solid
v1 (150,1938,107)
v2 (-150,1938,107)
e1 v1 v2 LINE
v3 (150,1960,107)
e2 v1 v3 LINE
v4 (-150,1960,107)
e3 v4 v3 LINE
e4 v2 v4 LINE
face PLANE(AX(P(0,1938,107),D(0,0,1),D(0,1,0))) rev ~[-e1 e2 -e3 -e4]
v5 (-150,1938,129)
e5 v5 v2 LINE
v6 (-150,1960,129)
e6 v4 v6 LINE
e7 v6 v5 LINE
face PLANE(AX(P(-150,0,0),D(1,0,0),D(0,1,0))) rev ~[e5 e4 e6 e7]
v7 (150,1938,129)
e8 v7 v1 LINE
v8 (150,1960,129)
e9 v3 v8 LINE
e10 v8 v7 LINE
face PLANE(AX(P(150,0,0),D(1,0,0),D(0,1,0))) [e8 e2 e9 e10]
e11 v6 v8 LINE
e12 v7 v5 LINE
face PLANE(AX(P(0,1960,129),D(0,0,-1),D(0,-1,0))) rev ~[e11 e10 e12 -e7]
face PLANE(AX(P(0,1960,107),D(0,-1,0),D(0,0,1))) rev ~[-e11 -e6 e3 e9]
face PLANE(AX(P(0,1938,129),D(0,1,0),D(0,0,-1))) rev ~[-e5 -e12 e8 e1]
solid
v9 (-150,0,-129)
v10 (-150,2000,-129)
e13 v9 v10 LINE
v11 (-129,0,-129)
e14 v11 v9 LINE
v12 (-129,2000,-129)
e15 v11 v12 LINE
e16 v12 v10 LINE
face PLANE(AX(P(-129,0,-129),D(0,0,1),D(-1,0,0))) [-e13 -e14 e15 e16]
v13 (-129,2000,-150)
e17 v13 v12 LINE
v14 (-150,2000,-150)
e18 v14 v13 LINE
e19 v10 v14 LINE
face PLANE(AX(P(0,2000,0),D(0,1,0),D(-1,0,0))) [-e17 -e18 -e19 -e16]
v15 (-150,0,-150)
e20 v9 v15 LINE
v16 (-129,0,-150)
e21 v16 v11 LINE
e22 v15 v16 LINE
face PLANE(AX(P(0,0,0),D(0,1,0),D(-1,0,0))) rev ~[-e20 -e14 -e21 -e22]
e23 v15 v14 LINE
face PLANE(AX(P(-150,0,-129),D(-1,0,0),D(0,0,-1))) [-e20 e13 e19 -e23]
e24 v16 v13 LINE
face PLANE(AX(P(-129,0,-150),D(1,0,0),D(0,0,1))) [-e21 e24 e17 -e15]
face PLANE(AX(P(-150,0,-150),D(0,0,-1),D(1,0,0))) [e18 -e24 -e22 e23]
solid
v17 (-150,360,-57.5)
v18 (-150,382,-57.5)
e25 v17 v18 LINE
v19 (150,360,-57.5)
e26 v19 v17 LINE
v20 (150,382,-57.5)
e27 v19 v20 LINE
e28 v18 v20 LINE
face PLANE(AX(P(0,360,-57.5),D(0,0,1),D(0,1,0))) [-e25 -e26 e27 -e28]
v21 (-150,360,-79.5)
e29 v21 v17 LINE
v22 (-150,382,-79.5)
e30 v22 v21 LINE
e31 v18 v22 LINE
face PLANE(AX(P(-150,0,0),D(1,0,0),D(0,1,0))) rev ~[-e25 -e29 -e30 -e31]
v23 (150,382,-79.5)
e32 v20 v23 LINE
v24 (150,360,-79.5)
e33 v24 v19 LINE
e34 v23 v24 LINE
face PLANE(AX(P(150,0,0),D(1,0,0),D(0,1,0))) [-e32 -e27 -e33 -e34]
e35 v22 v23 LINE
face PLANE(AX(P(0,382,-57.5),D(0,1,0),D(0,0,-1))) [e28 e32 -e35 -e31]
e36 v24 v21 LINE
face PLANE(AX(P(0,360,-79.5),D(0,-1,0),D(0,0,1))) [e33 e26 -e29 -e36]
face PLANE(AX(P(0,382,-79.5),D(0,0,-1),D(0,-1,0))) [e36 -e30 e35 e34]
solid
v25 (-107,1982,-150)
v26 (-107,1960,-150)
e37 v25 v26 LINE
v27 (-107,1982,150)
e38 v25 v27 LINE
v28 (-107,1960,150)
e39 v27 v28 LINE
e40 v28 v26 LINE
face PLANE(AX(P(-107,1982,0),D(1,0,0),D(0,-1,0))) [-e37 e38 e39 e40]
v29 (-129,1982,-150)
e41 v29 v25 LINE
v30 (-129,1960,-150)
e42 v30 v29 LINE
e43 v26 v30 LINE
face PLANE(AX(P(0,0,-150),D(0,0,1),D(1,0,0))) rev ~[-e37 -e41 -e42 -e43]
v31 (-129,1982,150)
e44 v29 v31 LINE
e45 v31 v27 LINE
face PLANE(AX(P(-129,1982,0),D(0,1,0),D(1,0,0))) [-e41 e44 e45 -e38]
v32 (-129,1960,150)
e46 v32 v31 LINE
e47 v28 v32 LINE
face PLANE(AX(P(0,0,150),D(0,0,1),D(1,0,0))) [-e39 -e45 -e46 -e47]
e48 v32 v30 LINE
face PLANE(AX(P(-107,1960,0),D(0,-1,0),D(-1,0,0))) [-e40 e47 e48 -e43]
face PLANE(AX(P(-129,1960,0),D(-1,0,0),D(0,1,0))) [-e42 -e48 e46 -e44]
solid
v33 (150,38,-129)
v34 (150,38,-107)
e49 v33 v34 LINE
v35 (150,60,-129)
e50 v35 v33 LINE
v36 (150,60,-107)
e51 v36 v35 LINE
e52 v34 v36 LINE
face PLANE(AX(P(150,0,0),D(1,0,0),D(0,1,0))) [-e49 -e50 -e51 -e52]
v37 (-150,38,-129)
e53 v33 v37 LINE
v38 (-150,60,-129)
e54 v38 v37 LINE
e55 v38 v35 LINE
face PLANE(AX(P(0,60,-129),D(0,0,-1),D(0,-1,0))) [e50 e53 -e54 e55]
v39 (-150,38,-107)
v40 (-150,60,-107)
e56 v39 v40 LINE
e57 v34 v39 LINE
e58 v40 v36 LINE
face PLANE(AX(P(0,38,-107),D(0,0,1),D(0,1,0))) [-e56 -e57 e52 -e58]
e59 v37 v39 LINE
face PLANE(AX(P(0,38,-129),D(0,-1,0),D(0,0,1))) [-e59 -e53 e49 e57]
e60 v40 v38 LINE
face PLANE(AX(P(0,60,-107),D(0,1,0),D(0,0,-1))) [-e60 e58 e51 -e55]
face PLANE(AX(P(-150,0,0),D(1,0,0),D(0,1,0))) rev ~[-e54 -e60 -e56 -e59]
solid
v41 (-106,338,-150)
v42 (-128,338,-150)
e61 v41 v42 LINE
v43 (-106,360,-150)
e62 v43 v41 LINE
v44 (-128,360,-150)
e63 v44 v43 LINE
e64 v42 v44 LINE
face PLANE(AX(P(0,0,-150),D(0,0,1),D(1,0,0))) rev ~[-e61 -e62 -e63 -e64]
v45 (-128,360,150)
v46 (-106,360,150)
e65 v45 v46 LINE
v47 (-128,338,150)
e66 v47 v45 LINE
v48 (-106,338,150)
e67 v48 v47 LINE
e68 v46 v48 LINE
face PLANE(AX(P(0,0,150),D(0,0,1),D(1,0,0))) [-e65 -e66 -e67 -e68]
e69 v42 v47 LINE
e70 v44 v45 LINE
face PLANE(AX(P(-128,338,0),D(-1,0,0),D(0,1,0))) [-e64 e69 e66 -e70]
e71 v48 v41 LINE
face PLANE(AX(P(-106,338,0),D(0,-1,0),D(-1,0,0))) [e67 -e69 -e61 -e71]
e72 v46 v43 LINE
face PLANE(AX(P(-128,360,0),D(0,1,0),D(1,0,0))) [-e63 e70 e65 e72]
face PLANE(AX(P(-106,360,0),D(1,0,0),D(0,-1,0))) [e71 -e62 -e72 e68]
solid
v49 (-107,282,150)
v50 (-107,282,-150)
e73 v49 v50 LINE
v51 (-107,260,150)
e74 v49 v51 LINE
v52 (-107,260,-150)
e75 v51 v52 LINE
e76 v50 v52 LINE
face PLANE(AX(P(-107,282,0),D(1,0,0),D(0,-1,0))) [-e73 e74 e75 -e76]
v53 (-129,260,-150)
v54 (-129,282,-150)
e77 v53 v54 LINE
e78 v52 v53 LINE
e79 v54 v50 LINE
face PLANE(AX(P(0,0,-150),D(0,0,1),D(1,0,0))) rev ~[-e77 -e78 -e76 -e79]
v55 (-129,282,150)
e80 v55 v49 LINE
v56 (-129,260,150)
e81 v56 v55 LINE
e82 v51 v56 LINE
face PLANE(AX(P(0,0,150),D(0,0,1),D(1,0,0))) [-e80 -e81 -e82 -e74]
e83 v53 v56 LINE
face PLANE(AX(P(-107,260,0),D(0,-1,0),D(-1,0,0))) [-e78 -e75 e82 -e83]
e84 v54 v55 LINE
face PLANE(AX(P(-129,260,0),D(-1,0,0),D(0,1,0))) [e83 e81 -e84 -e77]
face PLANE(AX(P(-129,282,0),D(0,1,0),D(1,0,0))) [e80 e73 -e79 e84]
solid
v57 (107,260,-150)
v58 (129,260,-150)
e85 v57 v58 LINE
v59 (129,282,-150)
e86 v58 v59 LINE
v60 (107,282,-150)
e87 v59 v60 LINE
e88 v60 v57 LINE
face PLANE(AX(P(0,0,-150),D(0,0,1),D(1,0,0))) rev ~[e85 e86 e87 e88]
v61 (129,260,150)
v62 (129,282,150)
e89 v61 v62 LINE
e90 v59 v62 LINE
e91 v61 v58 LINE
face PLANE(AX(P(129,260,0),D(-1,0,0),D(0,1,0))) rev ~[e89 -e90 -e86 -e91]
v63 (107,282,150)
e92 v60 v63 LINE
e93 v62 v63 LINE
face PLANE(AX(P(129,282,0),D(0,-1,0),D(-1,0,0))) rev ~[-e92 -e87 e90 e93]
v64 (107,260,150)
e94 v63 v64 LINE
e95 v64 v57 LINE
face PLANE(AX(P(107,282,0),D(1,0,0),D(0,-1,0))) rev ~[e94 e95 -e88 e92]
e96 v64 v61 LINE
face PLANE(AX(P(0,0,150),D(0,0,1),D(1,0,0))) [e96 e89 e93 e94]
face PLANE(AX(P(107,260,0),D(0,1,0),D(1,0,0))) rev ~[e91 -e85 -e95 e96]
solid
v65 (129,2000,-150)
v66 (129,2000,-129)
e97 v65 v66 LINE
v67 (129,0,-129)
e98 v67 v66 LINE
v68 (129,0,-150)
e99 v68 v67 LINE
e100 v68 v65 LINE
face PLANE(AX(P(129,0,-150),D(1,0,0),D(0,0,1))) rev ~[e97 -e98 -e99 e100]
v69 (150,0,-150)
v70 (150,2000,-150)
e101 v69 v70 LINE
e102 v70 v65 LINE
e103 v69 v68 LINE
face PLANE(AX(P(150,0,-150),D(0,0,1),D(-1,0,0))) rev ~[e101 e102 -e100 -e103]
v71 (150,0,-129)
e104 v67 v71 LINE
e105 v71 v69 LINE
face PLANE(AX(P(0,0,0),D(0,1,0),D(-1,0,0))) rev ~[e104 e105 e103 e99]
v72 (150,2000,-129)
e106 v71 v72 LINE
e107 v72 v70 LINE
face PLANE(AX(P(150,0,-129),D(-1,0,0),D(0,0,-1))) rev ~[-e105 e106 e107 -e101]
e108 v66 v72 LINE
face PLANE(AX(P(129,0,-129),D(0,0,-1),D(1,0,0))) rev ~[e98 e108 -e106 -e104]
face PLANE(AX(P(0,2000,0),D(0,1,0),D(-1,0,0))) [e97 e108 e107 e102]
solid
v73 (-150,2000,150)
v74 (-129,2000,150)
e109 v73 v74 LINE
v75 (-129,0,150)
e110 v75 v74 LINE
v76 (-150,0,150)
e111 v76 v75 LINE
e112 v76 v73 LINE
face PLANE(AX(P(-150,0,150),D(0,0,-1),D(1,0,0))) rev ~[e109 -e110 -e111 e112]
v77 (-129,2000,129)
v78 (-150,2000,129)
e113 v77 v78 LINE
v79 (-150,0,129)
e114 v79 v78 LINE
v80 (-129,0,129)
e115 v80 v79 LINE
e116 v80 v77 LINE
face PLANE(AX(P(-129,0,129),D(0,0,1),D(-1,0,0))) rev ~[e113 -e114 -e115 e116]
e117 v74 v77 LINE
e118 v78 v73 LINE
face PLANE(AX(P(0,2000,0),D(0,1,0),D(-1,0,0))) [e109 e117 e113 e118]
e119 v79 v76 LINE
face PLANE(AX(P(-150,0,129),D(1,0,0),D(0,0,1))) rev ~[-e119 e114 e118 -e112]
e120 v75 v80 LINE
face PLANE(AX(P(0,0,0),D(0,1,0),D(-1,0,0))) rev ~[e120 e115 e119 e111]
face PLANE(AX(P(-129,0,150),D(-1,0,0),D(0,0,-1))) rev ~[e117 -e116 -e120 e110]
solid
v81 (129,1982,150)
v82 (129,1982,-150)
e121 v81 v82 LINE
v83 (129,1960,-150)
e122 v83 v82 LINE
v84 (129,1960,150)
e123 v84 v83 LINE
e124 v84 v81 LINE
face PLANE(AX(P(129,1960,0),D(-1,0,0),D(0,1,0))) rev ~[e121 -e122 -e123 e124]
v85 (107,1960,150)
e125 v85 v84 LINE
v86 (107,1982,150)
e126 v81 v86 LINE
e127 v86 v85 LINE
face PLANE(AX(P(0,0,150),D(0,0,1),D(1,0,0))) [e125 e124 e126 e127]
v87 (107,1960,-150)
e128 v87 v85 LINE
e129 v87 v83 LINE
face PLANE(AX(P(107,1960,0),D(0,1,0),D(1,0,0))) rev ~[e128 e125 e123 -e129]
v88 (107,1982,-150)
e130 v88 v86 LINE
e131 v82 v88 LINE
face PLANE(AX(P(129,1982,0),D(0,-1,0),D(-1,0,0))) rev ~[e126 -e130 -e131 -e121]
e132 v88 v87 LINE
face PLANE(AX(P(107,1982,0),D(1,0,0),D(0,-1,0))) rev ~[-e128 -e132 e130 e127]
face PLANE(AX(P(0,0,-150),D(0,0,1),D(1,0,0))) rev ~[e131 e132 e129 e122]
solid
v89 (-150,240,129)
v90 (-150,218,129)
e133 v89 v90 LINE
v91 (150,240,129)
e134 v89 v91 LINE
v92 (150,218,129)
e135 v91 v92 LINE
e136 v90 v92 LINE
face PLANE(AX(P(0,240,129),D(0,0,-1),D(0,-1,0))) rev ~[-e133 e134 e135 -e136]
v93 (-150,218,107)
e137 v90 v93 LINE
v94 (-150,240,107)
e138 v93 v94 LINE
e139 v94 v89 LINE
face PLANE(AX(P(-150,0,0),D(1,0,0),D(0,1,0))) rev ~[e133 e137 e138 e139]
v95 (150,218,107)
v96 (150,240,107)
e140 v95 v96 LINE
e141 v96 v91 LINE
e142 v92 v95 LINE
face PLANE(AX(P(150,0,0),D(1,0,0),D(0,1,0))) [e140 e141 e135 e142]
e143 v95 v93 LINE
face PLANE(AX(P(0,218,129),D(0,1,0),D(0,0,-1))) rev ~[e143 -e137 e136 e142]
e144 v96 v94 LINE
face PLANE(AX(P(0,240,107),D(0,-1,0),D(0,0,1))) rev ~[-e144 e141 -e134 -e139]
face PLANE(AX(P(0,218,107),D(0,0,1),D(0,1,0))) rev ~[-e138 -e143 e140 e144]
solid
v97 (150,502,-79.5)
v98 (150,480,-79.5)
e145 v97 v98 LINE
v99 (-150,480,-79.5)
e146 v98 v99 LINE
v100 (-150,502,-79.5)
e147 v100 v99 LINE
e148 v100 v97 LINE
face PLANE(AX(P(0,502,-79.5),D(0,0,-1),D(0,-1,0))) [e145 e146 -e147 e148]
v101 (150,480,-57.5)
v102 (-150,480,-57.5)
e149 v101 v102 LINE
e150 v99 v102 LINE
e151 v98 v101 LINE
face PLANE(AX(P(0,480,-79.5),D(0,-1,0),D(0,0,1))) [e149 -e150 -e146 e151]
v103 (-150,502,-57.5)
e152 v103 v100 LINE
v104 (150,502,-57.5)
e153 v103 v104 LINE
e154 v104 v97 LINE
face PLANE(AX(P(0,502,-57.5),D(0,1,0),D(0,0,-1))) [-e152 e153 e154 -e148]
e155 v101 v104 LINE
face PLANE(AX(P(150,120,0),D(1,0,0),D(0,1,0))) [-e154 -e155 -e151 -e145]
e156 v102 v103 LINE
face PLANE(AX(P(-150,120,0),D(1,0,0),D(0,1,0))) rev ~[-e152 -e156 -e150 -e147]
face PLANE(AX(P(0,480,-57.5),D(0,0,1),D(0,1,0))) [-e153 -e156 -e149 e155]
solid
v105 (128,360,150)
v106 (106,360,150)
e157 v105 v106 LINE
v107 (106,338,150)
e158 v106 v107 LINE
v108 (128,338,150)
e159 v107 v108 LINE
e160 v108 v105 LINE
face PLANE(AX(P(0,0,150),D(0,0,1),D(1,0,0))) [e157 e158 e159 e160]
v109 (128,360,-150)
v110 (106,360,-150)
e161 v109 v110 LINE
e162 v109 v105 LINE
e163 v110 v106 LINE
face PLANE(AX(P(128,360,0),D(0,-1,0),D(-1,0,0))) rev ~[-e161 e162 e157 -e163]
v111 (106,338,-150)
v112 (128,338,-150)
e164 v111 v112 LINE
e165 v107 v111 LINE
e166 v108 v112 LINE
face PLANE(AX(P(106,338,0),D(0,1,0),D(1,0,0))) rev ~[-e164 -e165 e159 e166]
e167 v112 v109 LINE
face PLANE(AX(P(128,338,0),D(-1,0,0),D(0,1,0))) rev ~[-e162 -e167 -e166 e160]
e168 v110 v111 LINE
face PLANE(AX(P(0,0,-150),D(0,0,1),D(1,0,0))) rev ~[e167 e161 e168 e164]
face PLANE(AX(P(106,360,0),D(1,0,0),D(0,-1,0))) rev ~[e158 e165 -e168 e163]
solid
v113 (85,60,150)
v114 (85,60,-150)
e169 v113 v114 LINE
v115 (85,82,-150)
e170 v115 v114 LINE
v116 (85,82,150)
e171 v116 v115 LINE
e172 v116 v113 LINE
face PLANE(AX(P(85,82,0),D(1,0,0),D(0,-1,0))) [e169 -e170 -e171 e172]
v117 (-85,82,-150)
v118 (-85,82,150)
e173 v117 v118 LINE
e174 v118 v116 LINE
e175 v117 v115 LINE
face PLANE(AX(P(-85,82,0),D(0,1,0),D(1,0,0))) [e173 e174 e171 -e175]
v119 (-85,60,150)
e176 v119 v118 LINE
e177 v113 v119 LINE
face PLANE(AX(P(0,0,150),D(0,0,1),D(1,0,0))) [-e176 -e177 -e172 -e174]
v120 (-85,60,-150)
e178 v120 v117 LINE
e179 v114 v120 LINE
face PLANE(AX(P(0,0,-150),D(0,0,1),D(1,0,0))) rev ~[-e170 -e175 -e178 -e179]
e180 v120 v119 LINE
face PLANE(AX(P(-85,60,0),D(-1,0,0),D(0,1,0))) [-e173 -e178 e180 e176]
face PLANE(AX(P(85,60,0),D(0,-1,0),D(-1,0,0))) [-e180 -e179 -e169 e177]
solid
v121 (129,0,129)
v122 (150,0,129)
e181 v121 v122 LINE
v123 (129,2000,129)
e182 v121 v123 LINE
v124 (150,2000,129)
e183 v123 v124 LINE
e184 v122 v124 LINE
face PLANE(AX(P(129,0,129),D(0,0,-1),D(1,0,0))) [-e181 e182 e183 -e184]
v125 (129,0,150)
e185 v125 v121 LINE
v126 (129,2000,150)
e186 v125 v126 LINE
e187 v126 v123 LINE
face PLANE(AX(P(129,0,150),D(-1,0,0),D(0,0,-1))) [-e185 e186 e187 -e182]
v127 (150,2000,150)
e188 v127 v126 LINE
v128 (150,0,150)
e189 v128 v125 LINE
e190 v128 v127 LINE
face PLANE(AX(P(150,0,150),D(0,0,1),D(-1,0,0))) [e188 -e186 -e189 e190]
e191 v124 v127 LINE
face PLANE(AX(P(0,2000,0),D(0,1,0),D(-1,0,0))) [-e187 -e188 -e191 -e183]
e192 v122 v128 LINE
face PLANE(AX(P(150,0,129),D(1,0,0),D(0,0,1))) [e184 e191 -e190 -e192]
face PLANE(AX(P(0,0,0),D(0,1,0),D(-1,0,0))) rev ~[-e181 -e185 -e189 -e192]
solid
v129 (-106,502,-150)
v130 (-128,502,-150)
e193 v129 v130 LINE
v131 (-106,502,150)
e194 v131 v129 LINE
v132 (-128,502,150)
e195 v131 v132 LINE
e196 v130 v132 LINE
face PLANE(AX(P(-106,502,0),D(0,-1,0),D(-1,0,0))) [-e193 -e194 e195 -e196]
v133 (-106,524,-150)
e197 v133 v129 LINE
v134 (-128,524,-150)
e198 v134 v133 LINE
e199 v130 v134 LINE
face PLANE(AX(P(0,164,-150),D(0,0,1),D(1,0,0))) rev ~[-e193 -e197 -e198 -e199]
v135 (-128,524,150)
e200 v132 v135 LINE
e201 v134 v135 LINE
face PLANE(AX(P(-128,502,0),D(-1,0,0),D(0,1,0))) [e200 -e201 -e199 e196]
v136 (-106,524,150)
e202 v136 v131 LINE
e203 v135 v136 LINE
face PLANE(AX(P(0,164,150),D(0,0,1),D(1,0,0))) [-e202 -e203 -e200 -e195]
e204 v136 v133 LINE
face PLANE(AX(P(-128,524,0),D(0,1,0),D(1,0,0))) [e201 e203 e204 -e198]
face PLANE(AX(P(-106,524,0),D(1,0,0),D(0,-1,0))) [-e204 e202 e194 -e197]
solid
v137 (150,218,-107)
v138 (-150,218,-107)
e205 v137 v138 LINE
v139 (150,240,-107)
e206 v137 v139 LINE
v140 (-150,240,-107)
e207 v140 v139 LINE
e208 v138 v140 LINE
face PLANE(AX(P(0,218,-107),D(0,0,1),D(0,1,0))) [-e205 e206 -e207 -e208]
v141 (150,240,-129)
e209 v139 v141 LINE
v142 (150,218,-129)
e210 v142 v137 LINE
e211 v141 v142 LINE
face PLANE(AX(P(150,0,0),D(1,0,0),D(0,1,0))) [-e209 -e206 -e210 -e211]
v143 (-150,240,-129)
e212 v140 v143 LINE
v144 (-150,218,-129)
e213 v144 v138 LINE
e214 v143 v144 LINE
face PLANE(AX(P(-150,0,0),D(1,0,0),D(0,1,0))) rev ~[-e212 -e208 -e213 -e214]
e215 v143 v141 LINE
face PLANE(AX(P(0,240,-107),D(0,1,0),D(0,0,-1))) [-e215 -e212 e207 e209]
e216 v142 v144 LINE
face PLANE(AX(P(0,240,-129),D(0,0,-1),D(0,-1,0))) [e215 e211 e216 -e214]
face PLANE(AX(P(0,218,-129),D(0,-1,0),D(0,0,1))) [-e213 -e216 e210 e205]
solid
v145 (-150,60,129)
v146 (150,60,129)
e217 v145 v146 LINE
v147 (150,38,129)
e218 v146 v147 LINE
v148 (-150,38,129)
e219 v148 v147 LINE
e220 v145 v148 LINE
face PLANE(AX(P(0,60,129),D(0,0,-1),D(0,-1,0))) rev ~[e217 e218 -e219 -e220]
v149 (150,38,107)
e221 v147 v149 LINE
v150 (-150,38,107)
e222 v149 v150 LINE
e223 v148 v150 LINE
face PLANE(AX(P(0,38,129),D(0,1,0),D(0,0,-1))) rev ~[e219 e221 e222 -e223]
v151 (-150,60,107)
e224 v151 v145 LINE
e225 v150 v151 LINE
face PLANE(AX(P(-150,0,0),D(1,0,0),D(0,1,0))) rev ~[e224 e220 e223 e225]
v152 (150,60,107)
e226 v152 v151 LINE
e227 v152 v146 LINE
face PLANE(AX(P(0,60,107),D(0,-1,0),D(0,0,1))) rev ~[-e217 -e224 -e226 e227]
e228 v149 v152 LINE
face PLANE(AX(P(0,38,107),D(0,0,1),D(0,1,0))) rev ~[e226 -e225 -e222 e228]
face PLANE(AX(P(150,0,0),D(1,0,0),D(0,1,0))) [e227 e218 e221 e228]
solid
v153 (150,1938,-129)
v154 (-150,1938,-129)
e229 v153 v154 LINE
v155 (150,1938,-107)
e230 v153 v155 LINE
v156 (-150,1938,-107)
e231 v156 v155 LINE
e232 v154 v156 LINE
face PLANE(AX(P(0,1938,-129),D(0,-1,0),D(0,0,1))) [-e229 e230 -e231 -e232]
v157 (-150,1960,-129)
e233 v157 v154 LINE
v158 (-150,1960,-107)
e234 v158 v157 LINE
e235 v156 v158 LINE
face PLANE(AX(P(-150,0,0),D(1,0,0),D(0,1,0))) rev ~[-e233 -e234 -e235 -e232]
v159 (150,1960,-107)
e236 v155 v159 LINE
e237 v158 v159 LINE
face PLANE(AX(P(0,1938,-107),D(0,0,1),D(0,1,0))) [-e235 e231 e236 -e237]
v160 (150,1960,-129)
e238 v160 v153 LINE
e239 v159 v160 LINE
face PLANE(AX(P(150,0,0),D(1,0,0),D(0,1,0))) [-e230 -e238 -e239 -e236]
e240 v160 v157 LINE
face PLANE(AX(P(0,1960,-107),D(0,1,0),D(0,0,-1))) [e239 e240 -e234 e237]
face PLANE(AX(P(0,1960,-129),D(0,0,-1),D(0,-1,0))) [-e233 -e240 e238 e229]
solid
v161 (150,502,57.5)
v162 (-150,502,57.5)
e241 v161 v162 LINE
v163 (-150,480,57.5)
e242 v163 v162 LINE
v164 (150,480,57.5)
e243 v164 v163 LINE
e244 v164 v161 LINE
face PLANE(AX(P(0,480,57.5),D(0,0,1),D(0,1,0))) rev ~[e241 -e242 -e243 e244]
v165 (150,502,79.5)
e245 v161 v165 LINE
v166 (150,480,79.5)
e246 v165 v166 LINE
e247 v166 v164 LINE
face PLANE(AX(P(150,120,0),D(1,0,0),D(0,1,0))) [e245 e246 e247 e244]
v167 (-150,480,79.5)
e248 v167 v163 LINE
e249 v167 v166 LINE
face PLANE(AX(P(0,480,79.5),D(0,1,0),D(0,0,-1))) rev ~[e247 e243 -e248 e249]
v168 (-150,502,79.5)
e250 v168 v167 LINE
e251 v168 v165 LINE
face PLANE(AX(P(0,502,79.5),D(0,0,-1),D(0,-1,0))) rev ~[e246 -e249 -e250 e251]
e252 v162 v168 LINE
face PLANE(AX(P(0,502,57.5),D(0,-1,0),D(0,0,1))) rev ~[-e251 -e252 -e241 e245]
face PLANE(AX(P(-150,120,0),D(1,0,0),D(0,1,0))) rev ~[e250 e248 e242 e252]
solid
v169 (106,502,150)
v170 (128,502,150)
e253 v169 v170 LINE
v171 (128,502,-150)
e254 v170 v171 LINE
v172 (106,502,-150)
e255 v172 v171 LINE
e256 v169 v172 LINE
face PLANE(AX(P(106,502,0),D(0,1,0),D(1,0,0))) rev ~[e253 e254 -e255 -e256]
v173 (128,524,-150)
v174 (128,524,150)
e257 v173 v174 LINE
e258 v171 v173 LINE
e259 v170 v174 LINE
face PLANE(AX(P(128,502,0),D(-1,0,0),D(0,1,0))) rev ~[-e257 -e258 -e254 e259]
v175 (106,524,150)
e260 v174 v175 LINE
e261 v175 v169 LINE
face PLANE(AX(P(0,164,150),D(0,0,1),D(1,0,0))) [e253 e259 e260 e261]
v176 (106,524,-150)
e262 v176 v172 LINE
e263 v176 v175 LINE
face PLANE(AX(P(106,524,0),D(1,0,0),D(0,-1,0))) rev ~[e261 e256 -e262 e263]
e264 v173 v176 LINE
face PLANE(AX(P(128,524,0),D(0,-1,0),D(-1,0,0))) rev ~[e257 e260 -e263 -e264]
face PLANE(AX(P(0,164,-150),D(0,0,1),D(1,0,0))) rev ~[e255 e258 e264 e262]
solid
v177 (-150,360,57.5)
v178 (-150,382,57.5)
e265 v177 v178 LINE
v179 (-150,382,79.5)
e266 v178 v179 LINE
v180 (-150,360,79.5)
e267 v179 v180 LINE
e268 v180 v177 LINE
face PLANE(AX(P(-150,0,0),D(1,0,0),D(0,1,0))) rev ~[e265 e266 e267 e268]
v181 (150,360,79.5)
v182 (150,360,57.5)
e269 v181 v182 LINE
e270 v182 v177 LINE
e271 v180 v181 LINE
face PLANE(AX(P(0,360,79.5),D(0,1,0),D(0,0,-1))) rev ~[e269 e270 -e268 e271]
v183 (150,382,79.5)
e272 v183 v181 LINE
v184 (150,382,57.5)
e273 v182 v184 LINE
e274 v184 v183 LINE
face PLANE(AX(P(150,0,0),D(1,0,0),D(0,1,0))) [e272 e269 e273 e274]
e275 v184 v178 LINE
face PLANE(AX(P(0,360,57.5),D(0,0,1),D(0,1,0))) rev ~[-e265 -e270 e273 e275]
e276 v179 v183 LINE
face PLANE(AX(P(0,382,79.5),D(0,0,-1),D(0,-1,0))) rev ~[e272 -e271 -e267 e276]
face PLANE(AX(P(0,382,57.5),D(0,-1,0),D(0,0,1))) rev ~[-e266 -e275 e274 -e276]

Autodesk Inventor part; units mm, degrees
ref_plane "YZ Plane" through (0, 0, 0) normal (1, 0, 0) x (0, 1, 0)
ref_plane "XZ Plane" through (0, 0, 0) normal (0, 1, 0) x (-1, 0, 0)
ref_plane "XY Plane" through (0, 0, 0) normal (0, 0, 1) x (1, 0, 0)
sketch "Sketch1" plane through (0, 0, 0) normal (0, 1, 0) x (-1, 0, 0)
  line L0 (150, 150) -> (129, 150)
  line L1 (129, 150) -> (129, 129)
  line L2 (129, 129) -> (150, 129)
  line L3 (150, 129) -> (150, 150)
  line L4 (150, -150) -> (129, -150)
  line L5 (129, -150) -> (129, -129)
  line L6 (129, -129) -> (150, -129)
  line L7 (150, -129) -> (150, -150)
  line L8 (-150, -150) -> (-129, -150)
  line L9 (-129, -150) -> (-129, -129)
  line L10 (-129, -129) -> (-150, -129)
  line L11 (-150, -129) -> (-150, -150)
  line L12 (-150, 150) -> (-129, 150)
  line L13 (-129, 150) -> (-129, 129)
  line L14 (-129, 129) -> (-150, 129)
  line L15 (-150, 129) -> (-150, 150)
  line L16 (150, 129) -> (150, -129) construction
  line L17 (129, 150) -> (-129, 150) construction
  point P0 (0, 0)
  point P1 (150, 0)
  point P2 (0, 150)
  dimension "d0" = 21
  dimension "d1" = 300
  dimension "d2" = 300
extrude "Extrusion1" add sketch "Sketch1" along normal blind 2000
sketch "Sketch2" plane through (0, 0, 0) normal (1, 0, 0) x (0, 1, 0)
  line L0 (60, 129) -> (38, 129)
  line L1 (38, 129) -> (38, 107)
  line L2 (38, 107) -> (60, 107)
  line L3 (60, 107) -> (60, 129)
  line L4 (60, -129) -> (38, -129)
  line L5 (38, -129) -> (38, -107)
  line L6 (38, -107) -> (60, -107)
  line L7 (60, -107) -> (60, -129)
  line L8 (49, 107) -> (49, -107) construction
  line L9 (240, 129) -> (218, 129)
  line L10 (218, 129) -> (218, 107)
  line L11 (218, 107) -> (240, 107)
  line L12 (240, 107) -> (240, 129)
  line L13 (240, -129) -> (218, -129)
  line L14 (218, -129) -> (218, -107)
  line L15 (218, -107) -> (240, -107)
  line L16 (240, -107) -> (240, -129)
  line L17 (1960, 107) -> (1960, 129)
  line L18 (1960, 129) -> (1938, 129)
  line L19 (1938, 107) -> (1960, 107)
  line L20 (1938, 129) -> (1938, 107)
  line L21 (1960, -107) -> (1960, -129)
  line L22 (1960, -129) -> (1938, -129)
  line L23 (1938, -129) -> (1938, -107)
  line L24 (1938, -107) -> (1960, -107)
  point P0 (0, 0)
  point P1 (49, 0)
  point P2 (229, 107)
  point P3 (229, -107)
  point P4 (1949, 107)
  point P5 (1949, -107)
  dimension "d5" = 258
  dimension "d6" = 60
  dimension "d7" = 22
  dimension "d19" = 180
  dimension "d46" = 1900
extrude "Extrusion2" add sketch "Sketch2" along normal mid plane 300 separate body contours L3 L2 L1 L0 | L4 L5 L6 L7 | L19 L20 L18 L17 | L21 L22 L23 L24
sketch "Sketch3" plane through (0, 0, 0) normal (0, 0, 1) x (1, 0, 0)
  line L0 (-85, 82) -> (85, 82)
  line L1 (85, 82) -> (85, 60)
  line L2 (85, 60) -> (-85, 60)
  line L3 (-85, 60) -> (-85, 82)
  line L4 (0, 0) -> (0, 206.2216) construction
  line L5 (-129, 282) -> (-107, 282)
  line L6 (-107, 282) -> (-107, 260)
  line L7 (-107, 260) -> (-129, 260)
  line L8 (-129, 260) -> (-129, 282)
  line L9 (129, 282) -> (107, 282)
  line L10 (107, 282) -> (107, 260)
  line L11 (107, 260) -> (129, 260)
  line L12 (129, 260) -> (129, 282)
  line L13 (107, 1982) -> (107, 1960)
  line L14 (129, 1982) -> (107, 1982)
  line L15 (129, 1960) -> (129, 1982)
  line L16 (107, 1960) -> (129, 1960)
  line L17 (-107, 1982) -> (-107, 1960)
  line L18 (-129, 1982) -> (-107, 1982)
  line L19 (-129, 1960) -> (-129, 1982)
  line L20 (-107, 1960) -> (-129, 1960)
  point P0 (0, 82)
  dimension "d10" = 60
  dimension "d11" = 170
  dimension "d15" = 258
  dimension "d16" = 200
  dimension "d53" = 1700
  dimension "d61" = 22
extrude "Extrusion3" add sketch "Sketch3" along normal mid plane 300 separate body contours L0 L1 L2 L3 | L14 L15 L16 L13 | L17 L20 L19 L18
extrude "Extrusion4" add sketch "Sketch2" along normal mid plane 300 separate body contours L12 L11 L10 L9 | L13 L14 L15 L16
extrude "Extrusion5" add sketch "Sketch3" along normal mid plane 300 separate body contours L5 L6 L7 L8 | L12 L11 L10 L9
sketch "Sketch4" plane through (0, 0, 0) normal (0, 0, 1) x (1, 0, 0)
  line L0 (128, 360) -> (106, 360)
  line L1 (106, 360) -> (106, 338)
  line L2 (106, 338) -> (128, 338)
  line L3 (128, 338) -> (128, 360)
  line L4 (0, 0) -> (0, 747.9187)
  line L5 (-128, 360) -> (-106, 360)
  line L6 (-106, 360) -> (-106, 338)
  line L7 (-106, 338) -> (-128, 338)
  line L8 (-128, 338) -> (-128, 360)
  dimension "d31" = 256
  dimension "d32" = 22
  dimension "d33" = 360
extrude "Extrusion6" add sketch "Sketch4" along normal mid plane 300 separate body
sketch "Sketch5" plane through (0, 0, 0) normal (1, 0, 0) x (0, 1, 0)
  line L0 (382, 79.5) -> (360, 79.5)
  line L1 (360, 79.5) -> (360, 57.5)
  line L2 (360, 57.5) -> (382, 57.5)
  line L3 (382, 57.5) -> (382, 79.5)
  line L4 (0, 0) -> (506.9867, 0)
  line L5 (382, -79.5) -> (360, -79.5)
  line L6 (360, -79.5) -> (360, -57.5)
  line L7 (360, -57.5) -> (382, -57.5)
  line L8 (382, -57.5) -> (382, -79.5)
  dimension "d36" = 360
  dimension "d37" = 22
  dimension "d38" = 115
extrude "Extrusion7" add sketch "Sketch5" along normal mid plane 300 separate body
pattern_linear "Rectangular Pattern2" count 2 spacing 120 along (0, 1, 0) of "Extrusion7" bodies 7
pattern_linear "Rectangular Pattern3" count 2 spacing 164 along (0, 1, 0) of "Extrusion6" bodies 6
equation "\"d2\" = d1"
equation "\"d36\" = d33"
properties part number "Base listones"
